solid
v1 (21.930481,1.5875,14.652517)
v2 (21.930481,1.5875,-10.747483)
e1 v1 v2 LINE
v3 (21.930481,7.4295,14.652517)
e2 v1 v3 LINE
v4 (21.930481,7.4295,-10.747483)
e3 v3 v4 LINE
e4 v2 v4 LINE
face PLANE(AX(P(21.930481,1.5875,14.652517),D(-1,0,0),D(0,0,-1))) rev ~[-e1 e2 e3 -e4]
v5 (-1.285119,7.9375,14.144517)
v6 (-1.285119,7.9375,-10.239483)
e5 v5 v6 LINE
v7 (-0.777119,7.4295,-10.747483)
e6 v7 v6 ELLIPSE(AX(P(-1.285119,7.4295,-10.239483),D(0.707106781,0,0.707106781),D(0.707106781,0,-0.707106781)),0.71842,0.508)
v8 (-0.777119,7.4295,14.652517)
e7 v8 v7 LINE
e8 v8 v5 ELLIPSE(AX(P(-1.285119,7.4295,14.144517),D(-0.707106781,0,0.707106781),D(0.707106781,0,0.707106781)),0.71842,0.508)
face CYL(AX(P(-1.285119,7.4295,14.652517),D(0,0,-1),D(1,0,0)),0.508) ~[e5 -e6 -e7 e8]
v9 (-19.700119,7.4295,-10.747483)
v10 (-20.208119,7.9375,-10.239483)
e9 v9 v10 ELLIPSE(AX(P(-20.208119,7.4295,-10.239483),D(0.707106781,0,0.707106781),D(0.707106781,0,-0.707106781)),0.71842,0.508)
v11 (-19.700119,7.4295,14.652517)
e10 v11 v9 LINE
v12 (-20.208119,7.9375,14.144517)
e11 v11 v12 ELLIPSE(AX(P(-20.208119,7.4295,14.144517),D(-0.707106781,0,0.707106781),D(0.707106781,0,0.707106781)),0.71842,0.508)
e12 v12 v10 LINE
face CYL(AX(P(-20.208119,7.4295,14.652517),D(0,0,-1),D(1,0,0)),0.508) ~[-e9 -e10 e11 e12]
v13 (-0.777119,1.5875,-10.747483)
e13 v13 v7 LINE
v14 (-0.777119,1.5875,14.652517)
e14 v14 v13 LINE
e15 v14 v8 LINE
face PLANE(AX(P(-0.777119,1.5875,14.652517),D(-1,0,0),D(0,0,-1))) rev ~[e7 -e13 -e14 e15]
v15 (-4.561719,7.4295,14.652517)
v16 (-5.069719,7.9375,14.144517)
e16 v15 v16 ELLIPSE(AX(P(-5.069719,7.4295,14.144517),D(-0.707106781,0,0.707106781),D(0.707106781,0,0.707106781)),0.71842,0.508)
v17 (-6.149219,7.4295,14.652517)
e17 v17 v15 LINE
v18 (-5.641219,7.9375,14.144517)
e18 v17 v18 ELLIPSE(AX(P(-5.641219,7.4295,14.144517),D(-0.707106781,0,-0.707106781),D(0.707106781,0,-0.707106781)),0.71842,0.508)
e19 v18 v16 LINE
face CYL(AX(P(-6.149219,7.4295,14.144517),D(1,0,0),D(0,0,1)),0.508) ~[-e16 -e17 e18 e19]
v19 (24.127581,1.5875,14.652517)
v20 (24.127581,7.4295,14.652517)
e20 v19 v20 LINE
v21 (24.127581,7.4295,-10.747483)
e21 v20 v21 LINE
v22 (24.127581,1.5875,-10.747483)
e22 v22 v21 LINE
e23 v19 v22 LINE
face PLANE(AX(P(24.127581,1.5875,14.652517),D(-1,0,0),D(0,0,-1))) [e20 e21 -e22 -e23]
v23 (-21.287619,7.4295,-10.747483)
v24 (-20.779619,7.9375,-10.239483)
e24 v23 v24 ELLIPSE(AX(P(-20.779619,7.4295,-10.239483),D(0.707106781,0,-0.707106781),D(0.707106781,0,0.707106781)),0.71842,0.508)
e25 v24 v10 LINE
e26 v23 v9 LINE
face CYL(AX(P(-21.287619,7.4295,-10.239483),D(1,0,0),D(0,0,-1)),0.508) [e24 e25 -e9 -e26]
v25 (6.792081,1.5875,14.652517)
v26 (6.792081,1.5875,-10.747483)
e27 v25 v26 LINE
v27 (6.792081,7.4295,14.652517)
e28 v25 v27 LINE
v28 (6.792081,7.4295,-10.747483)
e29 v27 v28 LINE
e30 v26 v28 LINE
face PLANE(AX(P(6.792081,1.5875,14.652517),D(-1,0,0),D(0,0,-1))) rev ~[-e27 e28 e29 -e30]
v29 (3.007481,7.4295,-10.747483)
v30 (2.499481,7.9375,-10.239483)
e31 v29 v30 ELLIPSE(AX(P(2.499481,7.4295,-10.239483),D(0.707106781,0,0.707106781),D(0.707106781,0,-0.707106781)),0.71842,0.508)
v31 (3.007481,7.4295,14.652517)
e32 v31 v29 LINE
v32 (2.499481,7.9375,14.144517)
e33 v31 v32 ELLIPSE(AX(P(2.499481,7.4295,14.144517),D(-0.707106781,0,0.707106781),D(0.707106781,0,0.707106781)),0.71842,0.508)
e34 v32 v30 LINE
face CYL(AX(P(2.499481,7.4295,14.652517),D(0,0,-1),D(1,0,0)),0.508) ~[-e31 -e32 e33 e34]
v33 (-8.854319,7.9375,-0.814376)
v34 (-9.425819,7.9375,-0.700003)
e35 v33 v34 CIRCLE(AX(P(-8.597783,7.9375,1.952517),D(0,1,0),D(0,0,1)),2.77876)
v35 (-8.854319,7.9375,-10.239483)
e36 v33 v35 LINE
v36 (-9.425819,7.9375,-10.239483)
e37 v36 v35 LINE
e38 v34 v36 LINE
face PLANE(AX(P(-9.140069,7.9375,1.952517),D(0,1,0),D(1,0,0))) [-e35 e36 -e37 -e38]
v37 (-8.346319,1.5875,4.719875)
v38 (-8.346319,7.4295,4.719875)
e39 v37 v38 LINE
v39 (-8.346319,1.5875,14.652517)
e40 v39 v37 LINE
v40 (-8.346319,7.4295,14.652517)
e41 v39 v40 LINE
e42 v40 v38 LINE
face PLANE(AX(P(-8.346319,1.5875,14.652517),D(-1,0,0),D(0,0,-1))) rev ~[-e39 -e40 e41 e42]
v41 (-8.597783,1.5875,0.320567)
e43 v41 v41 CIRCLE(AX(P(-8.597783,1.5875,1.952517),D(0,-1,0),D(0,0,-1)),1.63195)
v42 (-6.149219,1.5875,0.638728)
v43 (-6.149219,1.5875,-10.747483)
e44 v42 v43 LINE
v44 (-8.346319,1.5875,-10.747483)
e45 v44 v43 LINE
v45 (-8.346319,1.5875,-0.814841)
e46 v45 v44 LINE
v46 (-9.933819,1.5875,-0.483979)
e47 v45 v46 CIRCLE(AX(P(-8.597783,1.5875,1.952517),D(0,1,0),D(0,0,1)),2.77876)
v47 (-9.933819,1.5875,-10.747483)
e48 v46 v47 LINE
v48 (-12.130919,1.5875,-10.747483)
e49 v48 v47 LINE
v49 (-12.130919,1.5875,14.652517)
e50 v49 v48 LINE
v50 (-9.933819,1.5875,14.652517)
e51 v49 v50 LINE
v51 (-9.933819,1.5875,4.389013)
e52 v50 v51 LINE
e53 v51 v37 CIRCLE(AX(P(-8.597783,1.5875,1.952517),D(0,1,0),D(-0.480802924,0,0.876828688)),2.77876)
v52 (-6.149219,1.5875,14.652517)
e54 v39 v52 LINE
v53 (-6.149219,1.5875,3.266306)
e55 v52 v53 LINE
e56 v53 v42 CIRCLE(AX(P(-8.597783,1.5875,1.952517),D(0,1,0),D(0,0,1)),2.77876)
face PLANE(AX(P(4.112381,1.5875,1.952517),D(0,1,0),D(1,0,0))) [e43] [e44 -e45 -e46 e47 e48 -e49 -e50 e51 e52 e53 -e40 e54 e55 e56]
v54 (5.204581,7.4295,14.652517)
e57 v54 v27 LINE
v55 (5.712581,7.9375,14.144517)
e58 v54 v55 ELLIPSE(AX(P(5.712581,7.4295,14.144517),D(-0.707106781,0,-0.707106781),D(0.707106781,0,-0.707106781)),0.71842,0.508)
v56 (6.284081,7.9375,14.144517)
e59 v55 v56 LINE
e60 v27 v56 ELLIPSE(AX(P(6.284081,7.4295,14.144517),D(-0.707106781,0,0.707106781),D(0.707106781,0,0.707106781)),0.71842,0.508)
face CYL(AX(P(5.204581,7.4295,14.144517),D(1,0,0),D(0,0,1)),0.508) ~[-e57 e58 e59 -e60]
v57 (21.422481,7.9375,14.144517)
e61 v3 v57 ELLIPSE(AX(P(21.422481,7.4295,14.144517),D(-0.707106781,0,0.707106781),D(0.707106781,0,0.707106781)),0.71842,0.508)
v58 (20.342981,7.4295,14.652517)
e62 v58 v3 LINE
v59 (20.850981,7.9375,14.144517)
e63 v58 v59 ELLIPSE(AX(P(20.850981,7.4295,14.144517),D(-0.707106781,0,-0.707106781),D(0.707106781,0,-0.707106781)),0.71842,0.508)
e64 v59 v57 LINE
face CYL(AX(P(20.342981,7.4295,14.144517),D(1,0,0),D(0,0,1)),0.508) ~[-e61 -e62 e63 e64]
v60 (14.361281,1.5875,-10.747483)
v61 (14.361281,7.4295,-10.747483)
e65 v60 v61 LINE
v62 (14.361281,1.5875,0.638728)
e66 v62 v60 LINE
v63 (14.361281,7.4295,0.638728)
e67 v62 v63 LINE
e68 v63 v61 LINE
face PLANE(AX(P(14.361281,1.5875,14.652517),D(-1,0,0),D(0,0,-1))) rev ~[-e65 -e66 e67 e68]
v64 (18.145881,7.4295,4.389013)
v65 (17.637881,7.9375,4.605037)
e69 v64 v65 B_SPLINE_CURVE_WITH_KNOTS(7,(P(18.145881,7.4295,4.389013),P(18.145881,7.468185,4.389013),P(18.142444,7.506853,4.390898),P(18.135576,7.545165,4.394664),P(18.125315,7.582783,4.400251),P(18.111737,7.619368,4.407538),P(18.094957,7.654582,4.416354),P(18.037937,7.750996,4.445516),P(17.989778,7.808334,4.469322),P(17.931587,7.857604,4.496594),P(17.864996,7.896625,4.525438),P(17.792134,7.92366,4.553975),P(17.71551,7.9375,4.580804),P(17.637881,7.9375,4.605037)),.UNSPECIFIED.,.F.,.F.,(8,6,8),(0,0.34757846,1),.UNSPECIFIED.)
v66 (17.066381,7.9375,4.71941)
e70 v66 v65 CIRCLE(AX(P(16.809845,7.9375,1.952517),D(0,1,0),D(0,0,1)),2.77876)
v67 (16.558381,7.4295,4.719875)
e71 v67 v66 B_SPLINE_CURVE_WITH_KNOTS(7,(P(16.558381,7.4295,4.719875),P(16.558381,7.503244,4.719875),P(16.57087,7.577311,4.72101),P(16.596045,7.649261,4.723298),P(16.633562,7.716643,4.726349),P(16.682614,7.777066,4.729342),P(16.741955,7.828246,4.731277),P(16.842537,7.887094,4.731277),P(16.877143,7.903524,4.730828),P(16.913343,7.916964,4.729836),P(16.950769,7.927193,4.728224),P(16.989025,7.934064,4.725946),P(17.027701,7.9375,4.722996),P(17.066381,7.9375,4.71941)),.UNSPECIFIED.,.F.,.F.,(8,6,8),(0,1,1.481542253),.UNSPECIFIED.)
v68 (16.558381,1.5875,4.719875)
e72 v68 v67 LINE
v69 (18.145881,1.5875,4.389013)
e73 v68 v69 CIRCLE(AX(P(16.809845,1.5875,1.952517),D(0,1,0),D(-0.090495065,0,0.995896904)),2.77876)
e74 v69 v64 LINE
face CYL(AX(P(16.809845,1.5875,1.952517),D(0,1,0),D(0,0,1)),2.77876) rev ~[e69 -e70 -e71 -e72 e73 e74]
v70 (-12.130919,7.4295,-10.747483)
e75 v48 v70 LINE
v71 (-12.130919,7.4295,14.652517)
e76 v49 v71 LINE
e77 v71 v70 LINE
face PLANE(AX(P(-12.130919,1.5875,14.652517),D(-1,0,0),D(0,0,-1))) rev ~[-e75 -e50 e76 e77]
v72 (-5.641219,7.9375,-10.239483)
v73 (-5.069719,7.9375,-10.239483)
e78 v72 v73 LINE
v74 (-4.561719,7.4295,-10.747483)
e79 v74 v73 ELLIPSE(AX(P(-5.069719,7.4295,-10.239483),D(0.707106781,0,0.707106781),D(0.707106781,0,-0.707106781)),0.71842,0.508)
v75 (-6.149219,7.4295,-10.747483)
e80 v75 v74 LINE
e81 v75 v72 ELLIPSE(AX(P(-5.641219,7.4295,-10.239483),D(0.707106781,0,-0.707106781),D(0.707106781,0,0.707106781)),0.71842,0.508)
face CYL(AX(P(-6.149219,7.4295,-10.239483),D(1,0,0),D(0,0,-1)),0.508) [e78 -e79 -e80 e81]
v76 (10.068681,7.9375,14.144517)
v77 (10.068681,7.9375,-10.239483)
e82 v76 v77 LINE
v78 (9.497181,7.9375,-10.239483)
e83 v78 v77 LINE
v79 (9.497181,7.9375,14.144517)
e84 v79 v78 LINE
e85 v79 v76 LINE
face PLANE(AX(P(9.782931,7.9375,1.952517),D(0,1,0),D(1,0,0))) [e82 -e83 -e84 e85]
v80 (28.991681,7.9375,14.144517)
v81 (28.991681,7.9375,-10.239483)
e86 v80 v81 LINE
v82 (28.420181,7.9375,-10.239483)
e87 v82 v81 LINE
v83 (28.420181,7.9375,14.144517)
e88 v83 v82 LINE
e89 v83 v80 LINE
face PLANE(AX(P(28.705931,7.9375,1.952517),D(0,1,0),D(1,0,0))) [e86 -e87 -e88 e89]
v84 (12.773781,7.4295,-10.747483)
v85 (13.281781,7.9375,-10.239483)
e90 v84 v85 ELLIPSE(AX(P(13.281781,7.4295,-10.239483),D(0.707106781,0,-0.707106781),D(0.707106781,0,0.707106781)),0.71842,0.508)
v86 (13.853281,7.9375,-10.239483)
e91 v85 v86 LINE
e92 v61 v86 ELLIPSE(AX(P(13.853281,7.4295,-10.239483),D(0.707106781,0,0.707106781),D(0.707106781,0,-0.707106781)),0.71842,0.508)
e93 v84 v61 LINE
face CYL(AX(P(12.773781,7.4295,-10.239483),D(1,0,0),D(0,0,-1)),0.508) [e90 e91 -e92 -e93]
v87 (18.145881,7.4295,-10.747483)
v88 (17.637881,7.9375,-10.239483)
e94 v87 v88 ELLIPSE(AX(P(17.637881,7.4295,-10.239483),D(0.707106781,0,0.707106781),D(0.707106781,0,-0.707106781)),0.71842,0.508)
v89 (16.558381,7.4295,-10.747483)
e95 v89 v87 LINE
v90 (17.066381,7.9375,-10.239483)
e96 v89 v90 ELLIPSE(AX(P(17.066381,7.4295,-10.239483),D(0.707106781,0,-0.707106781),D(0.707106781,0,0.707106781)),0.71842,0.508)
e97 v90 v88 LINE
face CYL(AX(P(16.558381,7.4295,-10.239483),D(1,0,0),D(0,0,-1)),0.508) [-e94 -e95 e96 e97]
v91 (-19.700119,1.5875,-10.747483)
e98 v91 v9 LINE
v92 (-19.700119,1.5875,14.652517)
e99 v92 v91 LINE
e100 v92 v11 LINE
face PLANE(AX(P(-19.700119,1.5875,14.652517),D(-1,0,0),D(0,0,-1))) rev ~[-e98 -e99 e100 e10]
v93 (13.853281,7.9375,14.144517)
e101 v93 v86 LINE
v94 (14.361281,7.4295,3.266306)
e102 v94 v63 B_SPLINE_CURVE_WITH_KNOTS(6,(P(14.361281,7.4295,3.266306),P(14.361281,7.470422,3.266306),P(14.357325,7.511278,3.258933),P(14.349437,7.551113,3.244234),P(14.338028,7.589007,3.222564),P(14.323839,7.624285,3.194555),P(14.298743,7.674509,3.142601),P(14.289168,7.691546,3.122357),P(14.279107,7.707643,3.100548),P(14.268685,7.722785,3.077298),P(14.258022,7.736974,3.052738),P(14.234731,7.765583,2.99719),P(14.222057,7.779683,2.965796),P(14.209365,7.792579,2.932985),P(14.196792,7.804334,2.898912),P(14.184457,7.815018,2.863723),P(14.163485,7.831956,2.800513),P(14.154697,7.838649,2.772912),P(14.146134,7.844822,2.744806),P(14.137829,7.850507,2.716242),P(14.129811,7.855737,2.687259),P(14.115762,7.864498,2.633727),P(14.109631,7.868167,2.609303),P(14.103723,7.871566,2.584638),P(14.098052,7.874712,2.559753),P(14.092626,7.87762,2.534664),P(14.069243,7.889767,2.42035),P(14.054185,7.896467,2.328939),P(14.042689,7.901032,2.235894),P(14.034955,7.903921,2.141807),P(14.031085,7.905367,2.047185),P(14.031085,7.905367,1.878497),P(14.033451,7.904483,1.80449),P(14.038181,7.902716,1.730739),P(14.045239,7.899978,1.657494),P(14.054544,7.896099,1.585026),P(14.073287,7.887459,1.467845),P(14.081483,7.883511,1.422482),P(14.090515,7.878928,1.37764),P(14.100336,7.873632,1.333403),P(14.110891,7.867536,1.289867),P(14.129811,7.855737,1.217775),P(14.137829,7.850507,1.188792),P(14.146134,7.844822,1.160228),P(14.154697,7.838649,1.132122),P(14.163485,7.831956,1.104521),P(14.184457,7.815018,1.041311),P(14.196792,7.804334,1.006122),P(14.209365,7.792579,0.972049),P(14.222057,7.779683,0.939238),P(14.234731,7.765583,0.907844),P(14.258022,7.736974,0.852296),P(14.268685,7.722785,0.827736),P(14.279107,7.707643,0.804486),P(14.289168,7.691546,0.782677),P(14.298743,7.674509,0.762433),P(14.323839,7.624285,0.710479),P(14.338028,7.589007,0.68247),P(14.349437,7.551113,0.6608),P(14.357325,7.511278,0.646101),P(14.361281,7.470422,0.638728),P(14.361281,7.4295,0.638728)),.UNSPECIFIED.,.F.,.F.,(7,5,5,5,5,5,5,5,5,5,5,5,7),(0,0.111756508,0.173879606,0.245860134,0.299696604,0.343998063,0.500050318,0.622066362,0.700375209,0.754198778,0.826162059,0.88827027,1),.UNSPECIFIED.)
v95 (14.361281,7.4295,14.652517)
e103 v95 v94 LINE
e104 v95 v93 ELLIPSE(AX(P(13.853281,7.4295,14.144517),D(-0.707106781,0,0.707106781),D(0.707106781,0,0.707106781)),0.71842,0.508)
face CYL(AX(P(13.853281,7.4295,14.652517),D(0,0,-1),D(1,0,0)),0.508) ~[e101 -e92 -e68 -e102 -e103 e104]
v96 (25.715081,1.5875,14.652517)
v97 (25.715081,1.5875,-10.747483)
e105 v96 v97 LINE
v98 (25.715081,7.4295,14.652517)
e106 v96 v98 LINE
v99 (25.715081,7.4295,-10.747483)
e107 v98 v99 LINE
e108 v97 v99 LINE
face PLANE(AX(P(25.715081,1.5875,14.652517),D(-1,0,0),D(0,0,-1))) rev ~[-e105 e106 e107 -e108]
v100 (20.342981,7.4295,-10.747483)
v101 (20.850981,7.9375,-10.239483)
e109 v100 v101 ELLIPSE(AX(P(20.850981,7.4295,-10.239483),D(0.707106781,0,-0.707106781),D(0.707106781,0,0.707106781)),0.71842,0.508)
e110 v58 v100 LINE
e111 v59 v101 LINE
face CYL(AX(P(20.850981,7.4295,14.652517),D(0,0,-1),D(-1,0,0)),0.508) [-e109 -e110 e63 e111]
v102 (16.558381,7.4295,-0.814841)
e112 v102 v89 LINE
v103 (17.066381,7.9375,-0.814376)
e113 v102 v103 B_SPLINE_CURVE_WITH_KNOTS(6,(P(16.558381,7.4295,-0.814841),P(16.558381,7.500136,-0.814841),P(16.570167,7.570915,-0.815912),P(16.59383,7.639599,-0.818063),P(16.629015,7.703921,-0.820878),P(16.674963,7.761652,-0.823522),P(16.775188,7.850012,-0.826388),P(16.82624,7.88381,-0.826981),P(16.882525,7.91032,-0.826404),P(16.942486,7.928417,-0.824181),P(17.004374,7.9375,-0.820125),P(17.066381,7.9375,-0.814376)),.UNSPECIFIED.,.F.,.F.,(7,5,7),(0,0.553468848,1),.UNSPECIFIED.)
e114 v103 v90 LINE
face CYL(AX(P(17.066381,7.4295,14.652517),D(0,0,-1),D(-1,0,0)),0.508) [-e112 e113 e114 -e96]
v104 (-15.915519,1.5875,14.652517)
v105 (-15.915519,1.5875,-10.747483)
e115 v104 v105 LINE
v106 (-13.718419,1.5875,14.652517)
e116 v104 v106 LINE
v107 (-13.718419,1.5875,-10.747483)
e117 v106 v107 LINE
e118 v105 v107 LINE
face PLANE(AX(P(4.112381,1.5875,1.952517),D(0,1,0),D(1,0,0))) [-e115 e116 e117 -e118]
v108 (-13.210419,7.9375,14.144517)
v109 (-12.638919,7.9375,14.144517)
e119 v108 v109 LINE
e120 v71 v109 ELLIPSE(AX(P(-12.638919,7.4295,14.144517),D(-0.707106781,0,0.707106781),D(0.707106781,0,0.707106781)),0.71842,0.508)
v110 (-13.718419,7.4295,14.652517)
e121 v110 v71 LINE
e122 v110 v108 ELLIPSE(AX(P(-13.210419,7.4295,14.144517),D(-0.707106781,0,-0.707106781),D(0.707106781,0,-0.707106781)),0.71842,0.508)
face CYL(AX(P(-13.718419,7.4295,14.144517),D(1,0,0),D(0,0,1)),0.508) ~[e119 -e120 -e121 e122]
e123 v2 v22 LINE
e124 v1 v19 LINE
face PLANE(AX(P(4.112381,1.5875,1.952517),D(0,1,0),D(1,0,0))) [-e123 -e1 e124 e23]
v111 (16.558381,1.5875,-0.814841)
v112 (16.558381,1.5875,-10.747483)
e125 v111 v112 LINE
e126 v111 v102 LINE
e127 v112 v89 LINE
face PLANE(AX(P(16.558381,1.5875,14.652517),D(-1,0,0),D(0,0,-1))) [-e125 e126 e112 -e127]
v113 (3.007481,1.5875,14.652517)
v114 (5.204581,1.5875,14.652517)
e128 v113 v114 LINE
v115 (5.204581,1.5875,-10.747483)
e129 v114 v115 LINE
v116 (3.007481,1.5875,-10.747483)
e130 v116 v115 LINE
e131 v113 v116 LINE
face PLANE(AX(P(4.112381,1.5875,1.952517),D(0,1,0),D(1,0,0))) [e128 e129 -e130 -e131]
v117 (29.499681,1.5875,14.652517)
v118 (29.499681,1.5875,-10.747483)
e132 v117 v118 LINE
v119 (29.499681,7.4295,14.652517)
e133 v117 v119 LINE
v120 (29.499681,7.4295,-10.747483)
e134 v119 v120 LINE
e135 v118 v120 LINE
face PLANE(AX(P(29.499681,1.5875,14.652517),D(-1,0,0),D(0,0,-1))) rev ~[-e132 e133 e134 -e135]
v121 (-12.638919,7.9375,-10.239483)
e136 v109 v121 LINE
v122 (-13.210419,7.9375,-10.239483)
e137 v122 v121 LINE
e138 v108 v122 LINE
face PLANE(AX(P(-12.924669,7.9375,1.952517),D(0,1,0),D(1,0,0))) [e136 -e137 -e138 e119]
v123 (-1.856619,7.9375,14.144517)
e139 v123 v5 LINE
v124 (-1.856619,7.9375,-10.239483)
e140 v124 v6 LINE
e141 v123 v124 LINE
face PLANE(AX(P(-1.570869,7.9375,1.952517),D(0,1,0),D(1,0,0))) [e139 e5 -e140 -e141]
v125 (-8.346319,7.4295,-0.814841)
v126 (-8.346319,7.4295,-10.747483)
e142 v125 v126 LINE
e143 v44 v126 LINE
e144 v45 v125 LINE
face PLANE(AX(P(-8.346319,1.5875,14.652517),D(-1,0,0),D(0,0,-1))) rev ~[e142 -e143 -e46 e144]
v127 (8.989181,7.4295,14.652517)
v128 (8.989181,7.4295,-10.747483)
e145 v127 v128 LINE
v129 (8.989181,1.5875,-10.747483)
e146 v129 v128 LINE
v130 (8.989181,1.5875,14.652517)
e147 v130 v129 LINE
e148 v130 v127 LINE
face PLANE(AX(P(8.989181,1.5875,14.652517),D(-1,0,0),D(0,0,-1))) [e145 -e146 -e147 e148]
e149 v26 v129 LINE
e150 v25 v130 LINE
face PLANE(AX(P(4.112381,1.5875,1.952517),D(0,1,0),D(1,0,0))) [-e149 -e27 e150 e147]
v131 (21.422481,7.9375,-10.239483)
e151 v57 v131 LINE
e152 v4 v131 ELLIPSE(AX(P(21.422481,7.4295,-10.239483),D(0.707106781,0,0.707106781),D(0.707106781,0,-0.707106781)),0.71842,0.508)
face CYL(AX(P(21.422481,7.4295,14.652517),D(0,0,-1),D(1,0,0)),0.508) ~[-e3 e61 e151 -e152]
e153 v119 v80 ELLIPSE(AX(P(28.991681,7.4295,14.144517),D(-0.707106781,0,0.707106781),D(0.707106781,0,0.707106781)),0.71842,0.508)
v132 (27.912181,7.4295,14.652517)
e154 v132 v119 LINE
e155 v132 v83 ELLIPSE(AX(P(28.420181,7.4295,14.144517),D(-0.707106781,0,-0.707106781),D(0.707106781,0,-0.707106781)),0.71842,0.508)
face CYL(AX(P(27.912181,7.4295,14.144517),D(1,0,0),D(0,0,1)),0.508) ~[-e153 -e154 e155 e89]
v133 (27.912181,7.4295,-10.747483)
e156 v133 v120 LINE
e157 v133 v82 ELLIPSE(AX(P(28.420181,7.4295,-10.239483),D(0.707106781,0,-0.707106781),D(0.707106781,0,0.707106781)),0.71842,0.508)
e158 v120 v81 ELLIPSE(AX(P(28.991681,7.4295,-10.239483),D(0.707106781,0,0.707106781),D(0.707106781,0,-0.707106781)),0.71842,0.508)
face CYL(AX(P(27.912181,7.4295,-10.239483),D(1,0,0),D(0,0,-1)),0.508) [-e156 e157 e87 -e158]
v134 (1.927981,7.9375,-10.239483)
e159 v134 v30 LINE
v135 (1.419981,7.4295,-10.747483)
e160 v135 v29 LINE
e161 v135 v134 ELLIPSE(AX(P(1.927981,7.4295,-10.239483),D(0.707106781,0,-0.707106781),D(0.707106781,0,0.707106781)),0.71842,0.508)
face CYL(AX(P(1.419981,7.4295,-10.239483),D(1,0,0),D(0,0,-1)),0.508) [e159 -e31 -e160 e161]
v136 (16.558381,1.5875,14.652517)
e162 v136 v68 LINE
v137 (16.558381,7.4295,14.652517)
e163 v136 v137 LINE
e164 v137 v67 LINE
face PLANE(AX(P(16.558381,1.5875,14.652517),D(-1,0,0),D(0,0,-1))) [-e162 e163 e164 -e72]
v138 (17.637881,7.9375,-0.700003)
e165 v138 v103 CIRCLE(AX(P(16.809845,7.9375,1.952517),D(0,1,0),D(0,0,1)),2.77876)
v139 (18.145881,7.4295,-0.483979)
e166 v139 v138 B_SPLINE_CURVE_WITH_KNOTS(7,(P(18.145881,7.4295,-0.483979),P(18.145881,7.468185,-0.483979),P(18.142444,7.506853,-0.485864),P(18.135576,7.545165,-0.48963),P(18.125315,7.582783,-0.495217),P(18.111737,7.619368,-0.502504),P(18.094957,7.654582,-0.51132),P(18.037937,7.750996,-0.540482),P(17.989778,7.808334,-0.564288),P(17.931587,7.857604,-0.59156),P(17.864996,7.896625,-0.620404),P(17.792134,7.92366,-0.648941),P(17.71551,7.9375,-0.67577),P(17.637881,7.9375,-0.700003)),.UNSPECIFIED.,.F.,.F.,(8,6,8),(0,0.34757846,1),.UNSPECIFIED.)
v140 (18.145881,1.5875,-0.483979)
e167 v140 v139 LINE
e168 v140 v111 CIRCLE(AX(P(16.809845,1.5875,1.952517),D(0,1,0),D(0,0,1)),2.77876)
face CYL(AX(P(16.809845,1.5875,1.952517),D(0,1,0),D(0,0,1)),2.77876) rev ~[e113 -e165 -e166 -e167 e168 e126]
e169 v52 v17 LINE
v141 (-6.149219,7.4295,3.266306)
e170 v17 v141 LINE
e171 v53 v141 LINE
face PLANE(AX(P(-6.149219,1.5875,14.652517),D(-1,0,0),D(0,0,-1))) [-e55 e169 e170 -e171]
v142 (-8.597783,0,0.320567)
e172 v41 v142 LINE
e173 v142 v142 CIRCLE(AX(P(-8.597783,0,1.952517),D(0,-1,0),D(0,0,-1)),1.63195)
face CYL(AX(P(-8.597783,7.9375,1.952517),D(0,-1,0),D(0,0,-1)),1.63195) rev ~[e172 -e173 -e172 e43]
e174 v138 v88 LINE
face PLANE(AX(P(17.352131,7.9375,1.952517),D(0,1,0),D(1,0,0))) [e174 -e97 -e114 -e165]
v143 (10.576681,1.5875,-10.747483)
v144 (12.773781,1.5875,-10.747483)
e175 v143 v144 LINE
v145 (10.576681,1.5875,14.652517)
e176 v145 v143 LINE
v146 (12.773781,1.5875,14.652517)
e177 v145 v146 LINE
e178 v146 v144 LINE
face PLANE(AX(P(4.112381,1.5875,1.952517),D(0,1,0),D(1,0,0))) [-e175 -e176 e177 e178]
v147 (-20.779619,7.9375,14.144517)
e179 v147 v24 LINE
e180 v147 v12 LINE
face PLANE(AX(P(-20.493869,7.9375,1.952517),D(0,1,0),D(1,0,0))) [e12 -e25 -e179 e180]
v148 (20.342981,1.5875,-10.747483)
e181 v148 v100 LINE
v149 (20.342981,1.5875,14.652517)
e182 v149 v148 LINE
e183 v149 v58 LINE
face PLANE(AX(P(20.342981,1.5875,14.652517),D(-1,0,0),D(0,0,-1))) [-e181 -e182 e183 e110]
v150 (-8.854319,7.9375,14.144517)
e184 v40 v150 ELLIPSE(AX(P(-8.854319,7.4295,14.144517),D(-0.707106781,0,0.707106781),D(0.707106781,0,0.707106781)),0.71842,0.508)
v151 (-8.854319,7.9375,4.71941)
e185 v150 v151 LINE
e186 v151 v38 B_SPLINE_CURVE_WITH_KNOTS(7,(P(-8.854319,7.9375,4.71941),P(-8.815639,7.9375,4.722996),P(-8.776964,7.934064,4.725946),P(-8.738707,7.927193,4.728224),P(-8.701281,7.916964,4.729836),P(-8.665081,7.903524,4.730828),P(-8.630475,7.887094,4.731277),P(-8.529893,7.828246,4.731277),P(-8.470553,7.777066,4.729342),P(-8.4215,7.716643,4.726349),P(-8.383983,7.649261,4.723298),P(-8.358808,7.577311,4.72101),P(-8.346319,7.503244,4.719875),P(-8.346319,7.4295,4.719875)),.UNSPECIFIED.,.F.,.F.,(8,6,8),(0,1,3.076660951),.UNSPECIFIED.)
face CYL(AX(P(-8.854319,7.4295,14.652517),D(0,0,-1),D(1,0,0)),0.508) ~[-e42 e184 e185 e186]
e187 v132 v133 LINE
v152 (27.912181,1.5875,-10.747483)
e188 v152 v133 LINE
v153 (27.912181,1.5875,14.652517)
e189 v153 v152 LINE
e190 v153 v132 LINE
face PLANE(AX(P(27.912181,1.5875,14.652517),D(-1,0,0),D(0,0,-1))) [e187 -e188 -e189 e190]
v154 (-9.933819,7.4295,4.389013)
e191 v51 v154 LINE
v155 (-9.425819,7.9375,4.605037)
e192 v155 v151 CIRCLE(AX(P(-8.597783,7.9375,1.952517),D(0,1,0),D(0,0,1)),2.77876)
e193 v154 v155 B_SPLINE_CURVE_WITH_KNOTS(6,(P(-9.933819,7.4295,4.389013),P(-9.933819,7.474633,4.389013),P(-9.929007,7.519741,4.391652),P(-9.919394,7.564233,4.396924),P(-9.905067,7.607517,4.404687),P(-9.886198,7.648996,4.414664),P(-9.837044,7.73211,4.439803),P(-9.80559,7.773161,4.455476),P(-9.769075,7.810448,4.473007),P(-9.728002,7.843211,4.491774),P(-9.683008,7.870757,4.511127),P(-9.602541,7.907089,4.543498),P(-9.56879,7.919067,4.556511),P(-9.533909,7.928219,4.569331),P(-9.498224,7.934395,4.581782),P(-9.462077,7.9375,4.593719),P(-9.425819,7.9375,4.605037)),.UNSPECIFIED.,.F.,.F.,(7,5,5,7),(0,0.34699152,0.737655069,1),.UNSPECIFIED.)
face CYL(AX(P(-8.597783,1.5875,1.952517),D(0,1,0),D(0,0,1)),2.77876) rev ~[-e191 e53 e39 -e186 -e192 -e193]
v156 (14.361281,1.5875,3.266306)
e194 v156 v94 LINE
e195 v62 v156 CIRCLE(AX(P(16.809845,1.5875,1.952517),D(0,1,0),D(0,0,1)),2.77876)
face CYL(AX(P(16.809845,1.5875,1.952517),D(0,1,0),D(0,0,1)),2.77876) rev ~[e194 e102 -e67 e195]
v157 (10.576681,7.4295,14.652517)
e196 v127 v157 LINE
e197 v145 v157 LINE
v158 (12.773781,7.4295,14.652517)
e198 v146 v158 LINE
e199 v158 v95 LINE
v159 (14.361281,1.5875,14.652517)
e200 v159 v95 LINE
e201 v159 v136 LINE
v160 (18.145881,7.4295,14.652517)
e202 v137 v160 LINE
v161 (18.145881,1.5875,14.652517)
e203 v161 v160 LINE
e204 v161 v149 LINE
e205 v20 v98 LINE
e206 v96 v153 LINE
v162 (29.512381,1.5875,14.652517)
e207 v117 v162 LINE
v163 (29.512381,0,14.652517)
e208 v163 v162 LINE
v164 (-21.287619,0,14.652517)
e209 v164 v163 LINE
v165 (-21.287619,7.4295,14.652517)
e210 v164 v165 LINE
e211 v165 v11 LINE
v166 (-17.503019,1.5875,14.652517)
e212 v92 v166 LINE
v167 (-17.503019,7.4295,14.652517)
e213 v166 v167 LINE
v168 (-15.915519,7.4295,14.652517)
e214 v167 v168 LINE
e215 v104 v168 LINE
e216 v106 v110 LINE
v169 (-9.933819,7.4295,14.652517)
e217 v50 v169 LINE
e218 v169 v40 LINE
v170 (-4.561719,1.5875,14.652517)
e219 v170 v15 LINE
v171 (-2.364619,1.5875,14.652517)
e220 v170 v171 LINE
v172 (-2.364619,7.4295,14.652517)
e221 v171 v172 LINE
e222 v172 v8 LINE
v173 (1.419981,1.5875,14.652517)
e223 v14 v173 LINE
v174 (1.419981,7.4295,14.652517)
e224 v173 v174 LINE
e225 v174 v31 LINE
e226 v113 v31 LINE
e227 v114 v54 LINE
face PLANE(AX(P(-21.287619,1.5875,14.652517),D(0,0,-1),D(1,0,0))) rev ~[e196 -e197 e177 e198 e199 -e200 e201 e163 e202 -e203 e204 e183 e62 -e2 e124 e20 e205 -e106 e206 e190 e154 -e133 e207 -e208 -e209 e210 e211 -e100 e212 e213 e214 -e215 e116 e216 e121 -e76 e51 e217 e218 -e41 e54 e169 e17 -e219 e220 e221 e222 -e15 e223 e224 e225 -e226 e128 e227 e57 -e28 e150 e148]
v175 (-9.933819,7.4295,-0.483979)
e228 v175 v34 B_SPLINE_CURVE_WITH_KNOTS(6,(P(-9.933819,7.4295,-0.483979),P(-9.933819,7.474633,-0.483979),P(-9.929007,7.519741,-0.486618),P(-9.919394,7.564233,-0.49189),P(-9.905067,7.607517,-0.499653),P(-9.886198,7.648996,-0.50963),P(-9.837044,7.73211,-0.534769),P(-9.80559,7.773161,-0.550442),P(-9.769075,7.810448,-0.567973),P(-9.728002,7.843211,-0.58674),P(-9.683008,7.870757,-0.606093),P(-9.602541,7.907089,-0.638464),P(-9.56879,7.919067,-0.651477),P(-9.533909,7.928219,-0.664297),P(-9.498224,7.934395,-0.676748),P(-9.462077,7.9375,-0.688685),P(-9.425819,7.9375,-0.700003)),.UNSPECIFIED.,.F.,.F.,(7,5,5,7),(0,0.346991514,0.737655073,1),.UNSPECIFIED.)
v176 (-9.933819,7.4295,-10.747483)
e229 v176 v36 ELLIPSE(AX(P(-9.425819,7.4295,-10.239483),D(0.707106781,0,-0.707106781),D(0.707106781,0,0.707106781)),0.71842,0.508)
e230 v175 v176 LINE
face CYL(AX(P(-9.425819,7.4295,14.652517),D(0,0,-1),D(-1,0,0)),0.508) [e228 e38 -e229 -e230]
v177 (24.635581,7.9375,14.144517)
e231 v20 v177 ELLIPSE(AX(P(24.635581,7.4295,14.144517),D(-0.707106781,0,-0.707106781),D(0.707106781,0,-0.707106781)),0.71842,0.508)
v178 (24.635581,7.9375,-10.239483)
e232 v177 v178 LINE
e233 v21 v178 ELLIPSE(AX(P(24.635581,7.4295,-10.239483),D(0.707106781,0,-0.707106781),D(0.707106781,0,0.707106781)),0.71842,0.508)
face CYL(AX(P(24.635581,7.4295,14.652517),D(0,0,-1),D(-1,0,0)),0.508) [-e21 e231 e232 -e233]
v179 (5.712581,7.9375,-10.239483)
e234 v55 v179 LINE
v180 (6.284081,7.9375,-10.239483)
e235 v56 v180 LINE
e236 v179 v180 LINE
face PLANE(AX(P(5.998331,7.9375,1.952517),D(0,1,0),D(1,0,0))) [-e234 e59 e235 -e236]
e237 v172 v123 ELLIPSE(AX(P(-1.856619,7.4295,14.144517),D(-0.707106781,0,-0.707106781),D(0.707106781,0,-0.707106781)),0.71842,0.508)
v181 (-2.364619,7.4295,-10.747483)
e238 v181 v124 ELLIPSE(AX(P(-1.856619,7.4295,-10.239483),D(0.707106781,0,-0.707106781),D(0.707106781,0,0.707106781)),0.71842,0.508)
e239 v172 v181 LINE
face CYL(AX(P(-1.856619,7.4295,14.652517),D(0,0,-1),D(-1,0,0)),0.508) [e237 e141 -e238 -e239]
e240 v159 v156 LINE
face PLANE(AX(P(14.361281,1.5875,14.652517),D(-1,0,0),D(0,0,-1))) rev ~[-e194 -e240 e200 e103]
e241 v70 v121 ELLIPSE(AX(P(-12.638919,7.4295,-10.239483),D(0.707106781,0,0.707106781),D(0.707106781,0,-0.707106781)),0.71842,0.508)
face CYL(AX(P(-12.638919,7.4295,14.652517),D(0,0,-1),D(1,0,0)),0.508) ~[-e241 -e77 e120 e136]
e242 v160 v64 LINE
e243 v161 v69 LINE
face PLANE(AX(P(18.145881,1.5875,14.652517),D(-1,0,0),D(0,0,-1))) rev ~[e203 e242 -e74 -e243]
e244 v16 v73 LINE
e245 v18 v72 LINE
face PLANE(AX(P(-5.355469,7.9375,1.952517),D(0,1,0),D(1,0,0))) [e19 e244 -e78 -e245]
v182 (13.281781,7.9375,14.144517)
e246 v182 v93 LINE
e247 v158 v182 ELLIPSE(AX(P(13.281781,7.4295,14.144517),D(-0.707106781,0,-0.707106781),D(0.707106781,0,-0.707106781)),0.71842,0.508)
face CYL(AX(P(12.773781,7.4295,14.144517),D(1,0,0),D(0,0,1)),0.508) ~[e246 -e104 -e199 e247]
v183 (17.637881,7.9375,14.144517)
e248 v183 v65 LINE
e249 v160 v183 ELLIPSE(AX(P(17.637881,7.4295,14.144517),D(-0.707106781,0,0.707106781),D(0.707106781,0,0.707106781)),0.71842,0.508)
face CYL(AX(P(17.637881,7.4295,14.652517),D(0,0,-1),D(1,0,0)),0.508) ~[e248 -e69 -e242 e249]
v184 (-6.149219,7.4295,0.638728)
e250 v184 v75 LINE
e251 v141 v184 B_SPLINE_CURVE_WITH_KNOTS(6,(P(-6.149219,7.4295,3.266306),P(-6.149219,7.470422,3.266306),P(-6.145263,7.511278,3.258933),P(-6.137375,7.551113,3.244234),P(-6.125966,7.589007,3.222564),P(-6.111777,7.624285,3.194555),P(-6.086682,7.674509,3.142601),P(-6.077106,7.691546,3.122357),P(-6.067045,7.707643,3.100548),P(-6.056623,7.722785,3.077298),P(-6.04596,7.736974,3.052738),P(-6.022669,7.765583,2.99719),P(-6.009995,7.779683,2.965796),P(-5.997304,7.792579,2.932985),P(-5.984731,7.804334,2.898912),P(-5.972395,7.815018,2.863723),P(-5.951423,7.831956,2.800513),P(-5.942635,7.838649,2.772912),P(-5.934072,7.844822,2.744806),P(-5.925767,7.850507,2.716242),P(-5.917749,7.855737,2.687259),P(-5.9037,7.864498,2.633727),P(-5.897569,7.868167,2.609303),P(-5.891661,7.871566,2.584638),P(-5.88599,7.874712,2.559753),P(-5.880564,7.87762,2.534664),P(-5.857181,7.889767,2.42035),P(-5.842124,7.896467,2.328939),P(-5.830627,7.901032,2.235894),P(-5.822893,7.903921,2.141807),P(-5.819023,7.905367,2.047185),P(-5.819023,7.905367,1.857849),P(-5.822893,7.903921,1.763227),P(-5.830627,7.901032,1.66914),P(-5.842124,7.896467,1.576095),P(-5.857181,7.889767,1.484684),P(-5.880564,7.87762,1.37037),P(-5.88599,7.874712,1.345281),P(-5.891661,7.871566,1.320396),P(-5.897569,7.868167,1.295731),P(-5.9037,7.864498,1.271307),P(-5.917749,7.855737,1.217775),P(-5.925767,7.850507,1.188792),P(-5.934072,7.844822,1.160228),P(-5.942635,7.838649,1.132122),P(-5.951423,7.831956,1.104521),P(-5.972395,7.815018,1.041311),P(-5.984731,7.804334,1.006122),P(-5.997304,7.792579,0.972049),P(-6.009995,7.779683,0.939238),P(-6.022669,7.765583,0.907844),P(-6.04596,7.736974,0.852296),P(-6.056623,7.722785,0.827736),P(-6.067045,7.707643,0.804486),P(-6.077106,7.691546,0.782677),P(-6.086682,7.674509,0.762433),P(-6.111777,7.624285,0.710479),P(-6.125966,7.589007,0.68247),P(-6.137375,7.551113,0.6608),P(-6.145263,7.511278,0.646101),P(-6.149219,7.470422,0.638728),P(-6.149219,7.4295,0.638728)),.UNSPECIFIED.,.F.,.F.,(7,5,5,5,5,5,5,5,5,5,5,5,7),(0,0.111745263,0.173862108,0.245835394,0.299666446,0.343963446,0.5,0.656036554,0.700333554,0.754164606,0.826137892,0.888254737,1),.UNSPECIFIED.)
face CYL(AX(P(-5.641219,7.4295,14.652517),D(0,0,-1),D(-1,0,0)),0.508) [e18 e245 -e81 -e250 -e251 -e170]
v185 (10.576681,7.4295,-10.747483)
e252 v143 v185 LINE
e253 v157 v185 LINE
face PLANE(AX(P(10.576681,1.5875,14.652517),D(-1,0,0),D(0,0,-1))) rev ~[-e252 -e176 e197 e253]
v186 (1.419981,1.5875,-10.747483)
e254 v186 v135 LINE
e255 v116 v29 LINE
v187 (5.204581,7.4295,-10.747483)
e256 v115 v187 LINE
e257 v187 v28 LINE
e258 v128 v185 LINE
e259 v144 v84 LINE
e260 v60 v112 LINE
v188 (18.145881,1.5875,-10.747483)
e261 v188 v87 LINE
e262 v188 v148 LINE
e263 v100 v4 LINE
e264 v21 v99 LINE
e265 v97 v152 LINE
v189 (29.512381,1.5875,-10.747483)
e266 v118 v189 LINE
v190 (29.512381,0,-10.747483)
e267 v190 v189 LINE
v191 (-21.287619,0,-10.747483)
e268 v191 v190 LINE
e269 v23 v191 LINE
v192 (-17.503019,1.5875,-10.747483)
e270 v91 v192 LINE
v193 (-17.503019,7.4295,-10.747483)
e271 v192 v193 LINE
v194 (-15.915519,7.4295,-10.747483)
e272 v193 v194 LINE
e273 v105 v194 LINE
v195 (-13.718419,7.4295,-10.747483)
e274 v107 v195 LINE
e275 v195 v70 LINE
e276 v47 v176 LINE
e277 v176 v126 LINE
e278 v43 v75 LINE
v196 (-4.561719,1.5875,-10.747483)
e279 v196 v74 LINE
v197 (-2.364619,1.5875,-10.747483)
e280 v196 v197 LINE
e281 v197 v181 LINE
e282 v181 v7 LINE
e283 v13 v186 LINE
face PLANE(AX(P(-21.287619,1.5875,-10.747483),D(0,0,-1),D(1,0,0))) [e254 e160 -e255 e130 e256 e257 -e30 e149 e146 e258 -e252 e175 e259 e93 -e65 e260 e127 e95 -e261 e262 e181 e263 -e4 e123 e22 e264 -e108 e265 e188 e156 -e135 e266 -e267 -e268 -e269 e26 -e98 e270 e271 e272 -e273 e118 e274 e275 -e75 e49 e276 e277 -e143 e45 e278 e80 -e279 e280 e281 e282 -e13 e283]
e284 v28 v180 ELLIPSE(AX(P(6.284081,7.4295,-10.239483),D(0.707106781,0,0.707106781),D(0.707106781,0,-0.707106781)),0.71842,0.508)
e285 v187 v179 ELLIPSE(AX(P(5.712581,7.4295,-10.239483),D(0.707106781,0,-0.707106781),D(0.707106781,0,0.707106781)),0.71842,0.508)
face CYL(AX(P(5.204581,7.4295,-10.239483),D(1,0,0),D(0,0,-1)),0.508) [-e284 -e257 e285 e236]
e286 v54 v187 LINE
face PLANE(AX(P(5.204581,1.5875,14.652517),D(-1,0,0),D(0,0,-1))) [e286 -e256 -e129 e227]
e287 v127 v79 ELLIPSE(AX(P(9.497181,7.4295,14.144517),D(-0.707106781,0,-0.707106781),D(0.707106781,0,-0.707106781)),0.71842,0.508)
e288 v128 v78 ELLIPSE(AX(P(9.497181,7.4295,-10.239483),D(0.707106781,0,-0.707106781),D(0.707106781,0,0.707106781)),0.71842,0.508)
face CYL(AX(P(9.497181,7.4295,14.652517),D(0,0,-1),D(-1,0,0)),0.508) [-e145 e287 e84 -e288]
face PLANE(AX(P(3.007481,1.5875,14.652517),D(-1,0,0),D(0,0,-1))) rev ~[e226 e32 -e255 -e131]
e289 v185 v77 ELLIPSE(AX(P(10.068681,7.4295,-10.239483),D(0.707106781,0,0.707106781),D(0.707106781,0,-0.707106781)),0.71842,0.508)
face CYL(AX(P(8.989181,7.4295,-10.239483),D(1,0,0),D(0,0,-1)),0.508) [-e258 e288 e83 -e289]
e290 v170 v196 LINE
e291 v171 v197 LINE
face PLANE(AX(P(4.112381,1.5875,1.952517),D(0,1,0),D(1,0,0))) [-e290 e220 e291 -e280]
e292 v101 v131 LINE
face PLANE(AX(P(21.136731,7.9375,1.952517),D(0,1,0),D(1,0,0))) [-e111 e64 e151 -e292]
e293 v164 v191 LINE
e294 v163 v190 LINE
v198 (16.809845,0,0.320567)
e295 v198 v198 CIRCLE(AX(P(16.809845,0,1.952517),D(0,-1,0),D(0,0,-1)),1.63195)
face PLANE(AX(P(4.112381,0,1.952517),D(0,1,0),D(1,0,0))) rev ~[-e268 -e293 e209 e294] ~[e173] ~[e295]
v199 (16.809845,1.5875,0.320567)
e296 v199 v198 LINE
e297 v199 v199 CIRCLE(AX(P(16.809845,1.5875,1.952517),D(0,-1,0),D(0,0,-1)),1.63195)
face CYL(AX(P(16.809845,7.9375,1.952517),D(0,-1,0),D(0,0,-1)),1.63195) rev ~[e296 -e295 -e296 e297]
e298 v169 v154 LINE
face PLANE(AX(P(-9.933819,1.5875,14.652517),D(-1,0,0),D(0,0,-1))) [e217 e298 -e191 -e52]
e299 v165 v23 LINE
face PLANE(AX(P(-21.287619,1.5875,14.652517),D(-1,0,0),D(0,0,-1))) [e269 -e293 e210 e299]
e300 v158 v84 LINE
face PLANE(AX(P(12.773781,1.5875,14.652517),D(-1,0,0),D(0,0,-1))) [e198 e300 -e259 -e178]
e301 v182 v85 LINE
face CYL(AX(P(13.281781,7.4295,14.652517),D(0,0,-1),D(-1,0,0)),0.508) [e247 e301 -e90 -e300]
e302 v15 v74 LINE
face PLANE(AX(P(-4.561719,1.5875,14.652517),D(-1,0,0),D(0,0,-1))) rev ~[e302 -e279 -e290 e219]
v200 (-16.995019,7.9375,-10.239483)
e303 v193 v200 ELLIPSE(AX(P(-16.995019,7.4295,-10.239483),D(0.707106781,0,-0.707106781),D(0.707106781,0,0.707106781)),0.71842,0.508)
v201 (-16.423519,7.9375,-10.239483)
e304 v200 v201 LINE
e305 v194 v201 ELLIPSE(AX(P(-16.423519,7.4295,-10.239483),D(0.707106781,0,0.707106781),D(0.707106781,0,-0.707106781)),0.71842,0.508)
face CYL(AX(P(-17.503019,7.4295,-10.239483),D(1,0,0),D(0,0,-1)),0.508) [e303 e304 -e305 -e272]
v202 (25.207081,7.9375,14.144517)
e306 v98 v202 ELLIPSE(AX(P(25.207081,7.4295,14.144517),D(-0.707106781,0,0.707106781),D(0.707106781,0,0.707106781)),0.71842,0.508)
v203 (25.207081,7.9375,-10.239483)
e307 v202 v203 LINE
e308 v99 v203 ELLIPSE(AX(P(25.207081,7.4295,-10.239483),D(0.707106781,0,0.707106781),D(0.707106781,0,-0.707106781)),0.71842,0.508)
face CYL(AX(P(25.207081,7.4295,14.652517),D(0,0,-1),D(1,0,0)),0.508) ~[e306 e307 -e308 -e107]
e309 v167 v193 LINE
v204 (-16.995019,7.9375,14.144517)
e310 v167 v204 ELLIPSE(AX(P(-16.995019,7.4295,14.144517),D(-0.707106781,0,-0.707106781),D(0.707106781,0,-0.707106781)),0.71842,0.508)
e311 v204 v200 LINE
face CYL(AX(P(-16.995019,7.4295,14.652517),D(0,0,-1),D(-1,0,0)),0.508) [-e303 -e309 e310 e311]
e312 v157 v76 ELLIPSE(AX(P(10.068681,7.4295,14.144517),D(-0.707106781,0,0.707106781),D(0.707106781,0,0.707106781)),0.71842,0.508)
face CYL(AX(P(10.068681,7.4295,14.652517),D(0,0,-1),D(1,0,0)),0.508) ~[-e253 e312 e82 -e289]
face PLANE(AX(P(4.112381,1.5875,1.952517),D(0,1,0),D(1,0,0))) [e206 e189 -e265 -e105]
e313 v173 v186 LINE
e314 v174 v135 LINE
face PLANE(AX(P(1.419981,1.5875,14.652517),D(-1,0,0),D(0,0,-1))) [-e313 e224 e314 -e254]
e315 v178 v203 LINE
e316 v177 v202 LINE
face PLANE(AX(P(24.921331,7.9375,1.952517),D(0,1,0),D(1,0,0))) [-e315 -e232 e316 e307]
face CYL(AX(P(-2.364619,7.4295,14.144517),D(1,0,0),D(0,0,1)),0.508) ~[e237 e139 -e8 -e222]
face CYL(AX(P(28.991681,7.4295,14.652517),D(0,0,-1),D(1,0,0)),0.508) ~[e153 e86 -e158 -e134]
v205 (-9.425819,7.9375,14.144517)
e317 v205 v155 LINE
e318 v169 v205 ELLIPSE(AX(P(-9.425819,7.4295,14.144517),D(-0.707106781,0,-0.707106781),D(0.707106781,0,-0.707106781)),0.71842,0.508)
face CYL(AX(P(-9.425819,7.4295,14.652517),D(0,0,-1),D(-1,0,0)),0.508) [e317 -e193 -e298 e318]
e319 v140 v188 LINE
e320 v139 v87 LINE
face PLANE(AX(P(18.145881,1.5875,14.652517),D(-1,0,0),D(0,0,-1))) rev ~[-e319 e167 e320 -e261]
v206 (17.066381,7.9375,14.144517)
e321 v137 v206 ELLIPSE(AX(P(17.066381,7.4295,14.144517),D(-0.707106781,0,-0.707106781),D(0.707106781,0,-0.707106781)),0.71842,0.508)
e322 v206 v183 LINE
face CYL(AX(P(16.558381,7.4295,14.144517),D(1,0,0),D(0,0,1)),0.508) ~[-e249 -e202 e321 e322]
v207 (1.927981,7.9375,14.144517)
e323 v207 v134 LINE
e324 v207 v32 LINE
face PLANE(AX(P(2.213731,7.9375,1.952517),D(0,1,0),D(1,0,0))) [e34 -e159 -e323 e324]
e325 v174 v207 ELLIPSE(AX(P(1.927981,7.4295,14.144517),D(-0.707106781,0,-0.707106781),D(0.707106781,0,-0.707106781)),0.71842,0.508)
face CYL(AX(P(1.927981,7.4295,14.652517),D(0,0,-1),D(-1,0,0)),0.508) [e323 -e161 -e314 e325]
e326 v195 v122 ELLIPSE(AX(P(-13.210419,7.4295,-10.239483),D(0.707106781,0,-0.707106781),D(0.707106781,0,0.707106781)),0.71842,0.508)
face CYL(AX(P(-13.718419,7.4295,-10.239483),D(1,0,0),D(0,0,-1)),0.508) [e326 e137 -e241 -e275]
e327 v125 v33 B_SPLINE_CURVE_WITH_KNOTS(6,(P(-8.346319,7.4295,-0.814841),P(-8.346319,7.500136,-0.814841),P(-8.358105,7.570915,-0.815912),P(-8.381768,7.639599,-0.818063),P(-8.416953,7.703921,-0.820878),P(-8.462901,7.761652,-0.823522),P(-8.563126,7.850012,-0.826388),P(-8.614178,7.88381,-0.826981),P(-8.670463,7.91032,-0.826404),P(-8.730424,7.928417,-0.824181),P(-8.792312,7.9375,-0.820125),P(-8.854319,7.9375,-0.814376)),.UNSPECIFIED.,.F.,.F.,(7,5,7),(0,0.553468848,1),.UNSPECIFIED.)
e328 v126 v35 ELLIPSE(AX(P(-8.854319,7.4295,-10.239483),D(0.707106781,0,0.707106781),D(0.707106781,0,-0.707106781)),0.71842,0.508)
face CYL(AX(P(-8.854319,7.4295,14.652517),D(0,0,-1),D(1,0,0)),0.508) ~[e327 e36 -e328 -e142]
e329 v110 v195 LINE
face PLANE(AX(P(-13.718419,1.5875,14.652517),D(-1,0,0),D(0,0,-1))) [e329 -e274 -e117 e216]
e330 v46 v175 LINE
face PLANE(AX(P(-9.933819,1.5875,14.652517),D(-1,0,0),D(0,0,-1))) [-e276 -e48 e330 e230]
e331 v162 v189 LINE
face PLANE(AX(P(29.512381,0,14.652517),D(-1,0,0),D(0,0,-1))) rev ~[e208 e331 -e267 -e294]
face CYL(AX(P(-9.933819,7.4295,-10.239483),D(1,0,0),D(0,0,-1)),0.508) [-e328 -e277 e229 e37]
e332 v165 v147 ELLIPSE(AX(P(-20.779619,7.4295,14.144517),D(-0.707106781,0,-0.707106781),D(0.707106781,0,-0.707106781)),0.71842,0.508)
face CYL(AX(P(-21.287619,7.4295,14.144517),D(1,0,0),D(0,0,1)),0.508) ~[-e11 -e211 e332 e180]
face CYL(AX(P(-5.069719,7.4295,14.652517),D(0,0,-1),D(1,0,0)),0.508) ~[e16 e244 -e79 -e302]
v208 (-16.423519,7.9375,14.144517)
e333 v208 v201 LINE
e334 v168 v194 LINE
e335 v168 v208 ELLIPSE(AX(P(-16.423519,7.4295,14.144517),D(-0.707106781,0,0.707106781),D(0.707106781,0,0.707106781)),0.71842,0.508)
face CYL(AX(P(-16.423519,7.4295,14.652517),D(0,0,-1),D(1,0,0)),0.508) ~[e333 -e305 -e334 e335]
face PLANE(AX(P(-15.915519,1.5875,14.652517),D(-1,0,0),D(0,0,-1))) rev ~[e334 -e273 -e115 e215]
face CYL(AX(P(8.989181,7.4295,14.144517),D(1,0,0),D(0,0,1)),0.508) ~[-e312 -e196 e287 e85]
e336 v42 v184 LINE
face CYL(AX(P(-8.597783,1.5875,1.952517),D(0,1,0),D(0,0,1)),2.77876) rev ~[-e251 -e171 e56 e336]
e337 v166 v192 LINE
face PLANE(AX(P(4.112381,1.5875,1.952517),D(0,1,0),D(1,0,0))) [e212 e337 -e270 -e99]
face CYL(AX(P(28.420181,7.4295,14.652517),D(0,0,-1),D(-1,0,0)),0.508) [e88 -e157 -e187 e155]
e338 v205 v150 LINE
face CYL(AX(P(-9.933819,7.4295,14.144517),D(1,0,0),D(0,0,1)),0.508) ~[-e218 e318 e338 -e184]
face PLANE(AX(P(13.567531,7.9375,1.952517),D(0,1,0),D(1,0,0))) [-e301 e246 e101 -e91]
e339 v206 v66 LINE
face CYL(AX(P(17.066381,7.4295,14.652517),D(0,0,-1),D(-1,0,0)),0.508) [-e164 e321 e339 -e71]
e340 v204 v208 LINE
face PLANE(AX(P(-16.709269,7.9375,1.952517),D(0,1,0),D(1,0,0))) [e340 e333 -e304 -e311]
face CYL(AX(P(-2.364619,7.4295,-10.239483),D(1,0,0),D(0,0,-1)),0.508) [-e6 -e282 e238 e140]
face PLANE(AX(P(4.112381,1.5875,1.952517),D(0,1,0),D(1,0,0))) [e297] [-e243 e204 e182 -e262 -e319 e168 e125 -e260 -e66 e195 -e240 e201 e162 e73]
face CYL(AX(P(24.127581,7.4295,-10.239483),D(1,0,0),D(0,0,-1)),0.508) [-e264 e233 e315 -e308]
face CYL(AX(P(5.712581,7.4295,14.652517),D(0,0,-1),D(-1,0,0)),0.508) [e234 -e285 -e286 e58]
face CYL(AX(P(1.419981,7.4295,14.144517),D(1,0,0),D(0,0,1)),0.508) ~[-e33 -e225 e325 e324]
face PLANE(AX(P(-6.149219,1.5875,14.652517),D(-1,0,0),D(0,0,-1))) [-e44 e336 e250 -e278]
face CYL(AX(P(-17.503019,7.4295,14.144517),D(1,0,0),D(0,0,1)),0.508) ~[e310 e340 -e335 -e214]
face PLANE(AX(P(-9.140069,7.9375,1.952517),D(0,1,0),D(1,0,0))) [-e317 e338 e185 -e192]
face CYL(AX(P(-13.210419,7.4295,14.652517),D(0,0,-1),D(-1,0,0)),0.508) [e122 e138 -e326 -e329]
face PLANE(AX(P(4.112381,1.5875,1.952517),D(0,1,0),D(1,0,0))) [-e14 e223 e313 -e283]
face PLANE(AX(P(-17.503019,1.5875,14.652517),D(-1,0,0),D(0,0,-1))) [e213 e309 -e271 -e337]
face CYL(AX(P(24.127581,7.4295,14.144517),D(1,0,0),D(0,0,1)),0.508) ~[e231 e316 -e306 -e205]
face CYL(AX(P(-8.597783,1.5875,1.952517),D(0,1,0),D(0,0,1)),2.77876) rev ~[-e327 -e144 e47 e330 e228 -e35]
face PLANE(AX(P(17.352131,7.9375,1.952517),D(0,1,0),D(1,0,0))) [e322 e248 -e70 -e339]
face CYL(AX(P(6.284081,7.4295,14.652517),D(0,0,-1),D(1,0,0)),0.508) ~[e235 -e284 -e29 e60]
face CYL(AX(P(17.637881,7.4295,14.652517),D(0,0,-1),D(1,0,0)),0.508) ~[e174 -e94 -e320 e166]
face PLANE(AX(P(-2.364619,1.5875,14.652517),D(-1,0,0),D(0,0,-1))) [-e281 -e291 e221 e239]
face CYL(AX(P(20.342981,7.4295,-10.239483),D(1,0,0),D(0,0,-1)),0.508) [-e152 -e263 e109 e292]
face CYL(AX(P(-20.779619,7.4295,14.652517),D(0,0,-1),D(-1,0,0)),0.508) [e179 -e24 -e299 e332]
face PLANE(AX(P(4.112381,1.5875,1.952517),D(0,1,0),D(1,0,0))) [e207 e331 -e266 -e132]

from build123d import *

# Parameters (mm, degrees)
SKETCH2_W                                      = 50.8
SKETCH2_H                                      = 25.4
BOSS_EXTRUDE1_DEPTH                            = 1.5875
SKETCH3_W                                      = 1.5875
SKETCH3_H                                      = 25.4
BOSS_EXTRUDE2_DEPTH                            = 6.35
FILLET1_R                                      = 0.508
LPATTERN1_COUNT                                = 14
LPATTERN1_PITCH                                = 3.7846
FILLET1_OF_LPATTERN1_R                         = 0.508
CBORE_FOR_4_SOCKET_HEAD_CAP_SCREW1_D           = 3.2639
CBORE_FOR_4_SOCKET_HEAD_CAP_SCREW1_CBORE_D     = 5.55752
CBORE_FOR_4_SOCKET_HEAD_CAP_SCREW1_CBORE_DEPTH = 6.35


with BuildPart() as part:
    # Sketch2 → Boss-Extrude1 (new body)
    with BuildSketch(Plane(origin=(0, 0, 0), x_dir=(1, 0, 0), z_dir=(0, 1, 0))):
        with Locations((4.112380952, -1.952517007)):
            Rectangle(SKETCH2_W, SKETCH2_H)
    extrude(amount=BOSS_EXTRUDE1_DEPTH)

    # Sketch3 → Boss-Extrude2 (add)
    with BuildSketch(Plane(origin=(0, 1.5875, 0), x_dir=(1, 0, 0), z_dir=(0, 1, 0))):
        with Locations((-20.493869048, -1.952517007)):
            Rectangle(SKETCH3_W, SKETCH3_H)
    boss_extrude2 = extrude(amount=BOSS_EXTRUDE2_DEPTH)

    # Fillet1
    fillet1_edges = [part.edges().sort_by_distance(p)[0] for p in [
        (-20.493869048, 7.9375, -10.747482993),
        (-21.287619048, 7.9375, 1.952517007),
        (-20.493869048, 7.9375, 14.652517007),
        (-19.700119048, 7.9375, 1.952517007),
    ]]
    fillet(fillet1_edges, radius=FILLET1_R)

    # LPattern1: Boss-Extrude2 ×14
    with Locations(*[(i * LPATTERN1_PITCH, 0, 0) for i in range(1, LPATTERN1_COUNT)]):
        add(boss_extrude2)

    # Fillet1 of LPattern1
    fillet1_of_lpattern1_edges = [part.edges().sort_by_distance(p)[0] for p in [
        (-16.709269048, 7.9375, -10.747482993),
        (-17.503019048, 7.9375, 1.952517007),
        (-16.709269048, 7.9375, 14.652517007),
        (-15.915519048, 7.9375, 1.952517007),
        (-12.924669048, 7.9375, -10.747482993),
        (-13.718419048, 7.9375, 1.952517007),
        (-12.924669048, 7.9375, 14.652517007),
        (-12.130919048, 7.9375, 1.952517007),
        (-9.140069048, 7.9375, -10.747482993),
        (-9.933819048, 7.9375, 1.952517007),
        (-9.140069048, 7.9375, 14.652517007),
        (-8.346319048, 7.9375, 1.952517007),
        (-5.355469048, 7.9375, -10.747482993),
        (-6.149219048, 7.9375, 1.952517007),
        (-5.355469048, 7.9375, 14.652517007),
        (-4.561719048, 7.9375, 1.952517007),
        (-1.570869048, 7.9375, -10.747482993),
        (-2.364619048, 7.9375, 1.952517007),
        (-1.570869048, 7.9375, 14.652517007),
        (-0.777119048, 7.9375, 1.952517007),
        (2.213730952, 7.9375, -10.747482993),
        (1.419980952, 7.9375, 1.952517007),
        (2.213730952, 7.9375, 14.652517007),
        (3.007480952, 7.9375, 1.952517007),
        (5.998330952, 7.9375, -10.747482993),
        (5.204580952, 7.9375, 1.952517007),
        (5.998330952, 7.9375, 14.652517007),
        (6.792080952, 7.9375, 1.952517007),
        (9.782930952, 7.9375, -10.747482993),
        (8.989180952, 7.9375, 1.952517007),
        (9.782930952, 7.9375, 14.652517007),
        (10.576680952, 7.9375, 1.952517007),
        (13.567530952, 7.9375, -10.747482993),
        (12.773780952, 7.9375, 1.952517007),
        (13.567530952, 7.9375, 14.652517007),
        (14.361280952, 7.9375, 1.952517007),
        (17.352130952, 7.9375, -10.747482993),
        (16.558380952, 7.9375, 1.952517007),
        (17.352130952, 7.9375, 14.652517007),
        (18.145880952, 7.9375, 1.952517007),
        (21.136730952, 7.9375, -10.747482993),
        (20.342980952, 7.9375, 1.952517007),
        (21.136730952, 7.9375, 14.652517007),
        (21.930480952, 7.9375, 1.952517007),
        (24.921330952, 7.9375, -10.747482993),
        (24.127580952, 7.9375, 1.952517007),
        (24.921330952, 7.9375, 14.652517007),
        (25.715080952, 7.9375, 1.952517007),
        (28.705930952, 7.9375, -10.747482993),
        (27.912180952, 7.9375, 1.952517007),
        (28.705930952, 7.9375, 14.652517007),
        (29.499680952, 7.9375, 1.952517007),
    ]]
    fillet(fillet1_of_lpattern1_edges, radius=FILLET1_OF_LPATTERN1_R)

    # CBORE for #4 Socket Head Cap Screw1 (through all)
    with Locations(Plane(origin=(-8.597783115, 7.9375, 1.952517007), x_dir=(0, 0, 1), z_dir=(0, 1, 0))):
        with Locations((0, 0), (0, 25.407628135)):
            CounterBoreHole(CBORE_FOR_4_SOCKET_HEAD_CAP_SCREW1_D / 2, CBORE_FOR_4_SOCKET_HEAD_CAP_SCREW1_CBORE_D / 2, CBORE_FOR_4_SOCKET_HEAD_CAP_SCREW1_CBORE_DEPTH)


solid = part.part
